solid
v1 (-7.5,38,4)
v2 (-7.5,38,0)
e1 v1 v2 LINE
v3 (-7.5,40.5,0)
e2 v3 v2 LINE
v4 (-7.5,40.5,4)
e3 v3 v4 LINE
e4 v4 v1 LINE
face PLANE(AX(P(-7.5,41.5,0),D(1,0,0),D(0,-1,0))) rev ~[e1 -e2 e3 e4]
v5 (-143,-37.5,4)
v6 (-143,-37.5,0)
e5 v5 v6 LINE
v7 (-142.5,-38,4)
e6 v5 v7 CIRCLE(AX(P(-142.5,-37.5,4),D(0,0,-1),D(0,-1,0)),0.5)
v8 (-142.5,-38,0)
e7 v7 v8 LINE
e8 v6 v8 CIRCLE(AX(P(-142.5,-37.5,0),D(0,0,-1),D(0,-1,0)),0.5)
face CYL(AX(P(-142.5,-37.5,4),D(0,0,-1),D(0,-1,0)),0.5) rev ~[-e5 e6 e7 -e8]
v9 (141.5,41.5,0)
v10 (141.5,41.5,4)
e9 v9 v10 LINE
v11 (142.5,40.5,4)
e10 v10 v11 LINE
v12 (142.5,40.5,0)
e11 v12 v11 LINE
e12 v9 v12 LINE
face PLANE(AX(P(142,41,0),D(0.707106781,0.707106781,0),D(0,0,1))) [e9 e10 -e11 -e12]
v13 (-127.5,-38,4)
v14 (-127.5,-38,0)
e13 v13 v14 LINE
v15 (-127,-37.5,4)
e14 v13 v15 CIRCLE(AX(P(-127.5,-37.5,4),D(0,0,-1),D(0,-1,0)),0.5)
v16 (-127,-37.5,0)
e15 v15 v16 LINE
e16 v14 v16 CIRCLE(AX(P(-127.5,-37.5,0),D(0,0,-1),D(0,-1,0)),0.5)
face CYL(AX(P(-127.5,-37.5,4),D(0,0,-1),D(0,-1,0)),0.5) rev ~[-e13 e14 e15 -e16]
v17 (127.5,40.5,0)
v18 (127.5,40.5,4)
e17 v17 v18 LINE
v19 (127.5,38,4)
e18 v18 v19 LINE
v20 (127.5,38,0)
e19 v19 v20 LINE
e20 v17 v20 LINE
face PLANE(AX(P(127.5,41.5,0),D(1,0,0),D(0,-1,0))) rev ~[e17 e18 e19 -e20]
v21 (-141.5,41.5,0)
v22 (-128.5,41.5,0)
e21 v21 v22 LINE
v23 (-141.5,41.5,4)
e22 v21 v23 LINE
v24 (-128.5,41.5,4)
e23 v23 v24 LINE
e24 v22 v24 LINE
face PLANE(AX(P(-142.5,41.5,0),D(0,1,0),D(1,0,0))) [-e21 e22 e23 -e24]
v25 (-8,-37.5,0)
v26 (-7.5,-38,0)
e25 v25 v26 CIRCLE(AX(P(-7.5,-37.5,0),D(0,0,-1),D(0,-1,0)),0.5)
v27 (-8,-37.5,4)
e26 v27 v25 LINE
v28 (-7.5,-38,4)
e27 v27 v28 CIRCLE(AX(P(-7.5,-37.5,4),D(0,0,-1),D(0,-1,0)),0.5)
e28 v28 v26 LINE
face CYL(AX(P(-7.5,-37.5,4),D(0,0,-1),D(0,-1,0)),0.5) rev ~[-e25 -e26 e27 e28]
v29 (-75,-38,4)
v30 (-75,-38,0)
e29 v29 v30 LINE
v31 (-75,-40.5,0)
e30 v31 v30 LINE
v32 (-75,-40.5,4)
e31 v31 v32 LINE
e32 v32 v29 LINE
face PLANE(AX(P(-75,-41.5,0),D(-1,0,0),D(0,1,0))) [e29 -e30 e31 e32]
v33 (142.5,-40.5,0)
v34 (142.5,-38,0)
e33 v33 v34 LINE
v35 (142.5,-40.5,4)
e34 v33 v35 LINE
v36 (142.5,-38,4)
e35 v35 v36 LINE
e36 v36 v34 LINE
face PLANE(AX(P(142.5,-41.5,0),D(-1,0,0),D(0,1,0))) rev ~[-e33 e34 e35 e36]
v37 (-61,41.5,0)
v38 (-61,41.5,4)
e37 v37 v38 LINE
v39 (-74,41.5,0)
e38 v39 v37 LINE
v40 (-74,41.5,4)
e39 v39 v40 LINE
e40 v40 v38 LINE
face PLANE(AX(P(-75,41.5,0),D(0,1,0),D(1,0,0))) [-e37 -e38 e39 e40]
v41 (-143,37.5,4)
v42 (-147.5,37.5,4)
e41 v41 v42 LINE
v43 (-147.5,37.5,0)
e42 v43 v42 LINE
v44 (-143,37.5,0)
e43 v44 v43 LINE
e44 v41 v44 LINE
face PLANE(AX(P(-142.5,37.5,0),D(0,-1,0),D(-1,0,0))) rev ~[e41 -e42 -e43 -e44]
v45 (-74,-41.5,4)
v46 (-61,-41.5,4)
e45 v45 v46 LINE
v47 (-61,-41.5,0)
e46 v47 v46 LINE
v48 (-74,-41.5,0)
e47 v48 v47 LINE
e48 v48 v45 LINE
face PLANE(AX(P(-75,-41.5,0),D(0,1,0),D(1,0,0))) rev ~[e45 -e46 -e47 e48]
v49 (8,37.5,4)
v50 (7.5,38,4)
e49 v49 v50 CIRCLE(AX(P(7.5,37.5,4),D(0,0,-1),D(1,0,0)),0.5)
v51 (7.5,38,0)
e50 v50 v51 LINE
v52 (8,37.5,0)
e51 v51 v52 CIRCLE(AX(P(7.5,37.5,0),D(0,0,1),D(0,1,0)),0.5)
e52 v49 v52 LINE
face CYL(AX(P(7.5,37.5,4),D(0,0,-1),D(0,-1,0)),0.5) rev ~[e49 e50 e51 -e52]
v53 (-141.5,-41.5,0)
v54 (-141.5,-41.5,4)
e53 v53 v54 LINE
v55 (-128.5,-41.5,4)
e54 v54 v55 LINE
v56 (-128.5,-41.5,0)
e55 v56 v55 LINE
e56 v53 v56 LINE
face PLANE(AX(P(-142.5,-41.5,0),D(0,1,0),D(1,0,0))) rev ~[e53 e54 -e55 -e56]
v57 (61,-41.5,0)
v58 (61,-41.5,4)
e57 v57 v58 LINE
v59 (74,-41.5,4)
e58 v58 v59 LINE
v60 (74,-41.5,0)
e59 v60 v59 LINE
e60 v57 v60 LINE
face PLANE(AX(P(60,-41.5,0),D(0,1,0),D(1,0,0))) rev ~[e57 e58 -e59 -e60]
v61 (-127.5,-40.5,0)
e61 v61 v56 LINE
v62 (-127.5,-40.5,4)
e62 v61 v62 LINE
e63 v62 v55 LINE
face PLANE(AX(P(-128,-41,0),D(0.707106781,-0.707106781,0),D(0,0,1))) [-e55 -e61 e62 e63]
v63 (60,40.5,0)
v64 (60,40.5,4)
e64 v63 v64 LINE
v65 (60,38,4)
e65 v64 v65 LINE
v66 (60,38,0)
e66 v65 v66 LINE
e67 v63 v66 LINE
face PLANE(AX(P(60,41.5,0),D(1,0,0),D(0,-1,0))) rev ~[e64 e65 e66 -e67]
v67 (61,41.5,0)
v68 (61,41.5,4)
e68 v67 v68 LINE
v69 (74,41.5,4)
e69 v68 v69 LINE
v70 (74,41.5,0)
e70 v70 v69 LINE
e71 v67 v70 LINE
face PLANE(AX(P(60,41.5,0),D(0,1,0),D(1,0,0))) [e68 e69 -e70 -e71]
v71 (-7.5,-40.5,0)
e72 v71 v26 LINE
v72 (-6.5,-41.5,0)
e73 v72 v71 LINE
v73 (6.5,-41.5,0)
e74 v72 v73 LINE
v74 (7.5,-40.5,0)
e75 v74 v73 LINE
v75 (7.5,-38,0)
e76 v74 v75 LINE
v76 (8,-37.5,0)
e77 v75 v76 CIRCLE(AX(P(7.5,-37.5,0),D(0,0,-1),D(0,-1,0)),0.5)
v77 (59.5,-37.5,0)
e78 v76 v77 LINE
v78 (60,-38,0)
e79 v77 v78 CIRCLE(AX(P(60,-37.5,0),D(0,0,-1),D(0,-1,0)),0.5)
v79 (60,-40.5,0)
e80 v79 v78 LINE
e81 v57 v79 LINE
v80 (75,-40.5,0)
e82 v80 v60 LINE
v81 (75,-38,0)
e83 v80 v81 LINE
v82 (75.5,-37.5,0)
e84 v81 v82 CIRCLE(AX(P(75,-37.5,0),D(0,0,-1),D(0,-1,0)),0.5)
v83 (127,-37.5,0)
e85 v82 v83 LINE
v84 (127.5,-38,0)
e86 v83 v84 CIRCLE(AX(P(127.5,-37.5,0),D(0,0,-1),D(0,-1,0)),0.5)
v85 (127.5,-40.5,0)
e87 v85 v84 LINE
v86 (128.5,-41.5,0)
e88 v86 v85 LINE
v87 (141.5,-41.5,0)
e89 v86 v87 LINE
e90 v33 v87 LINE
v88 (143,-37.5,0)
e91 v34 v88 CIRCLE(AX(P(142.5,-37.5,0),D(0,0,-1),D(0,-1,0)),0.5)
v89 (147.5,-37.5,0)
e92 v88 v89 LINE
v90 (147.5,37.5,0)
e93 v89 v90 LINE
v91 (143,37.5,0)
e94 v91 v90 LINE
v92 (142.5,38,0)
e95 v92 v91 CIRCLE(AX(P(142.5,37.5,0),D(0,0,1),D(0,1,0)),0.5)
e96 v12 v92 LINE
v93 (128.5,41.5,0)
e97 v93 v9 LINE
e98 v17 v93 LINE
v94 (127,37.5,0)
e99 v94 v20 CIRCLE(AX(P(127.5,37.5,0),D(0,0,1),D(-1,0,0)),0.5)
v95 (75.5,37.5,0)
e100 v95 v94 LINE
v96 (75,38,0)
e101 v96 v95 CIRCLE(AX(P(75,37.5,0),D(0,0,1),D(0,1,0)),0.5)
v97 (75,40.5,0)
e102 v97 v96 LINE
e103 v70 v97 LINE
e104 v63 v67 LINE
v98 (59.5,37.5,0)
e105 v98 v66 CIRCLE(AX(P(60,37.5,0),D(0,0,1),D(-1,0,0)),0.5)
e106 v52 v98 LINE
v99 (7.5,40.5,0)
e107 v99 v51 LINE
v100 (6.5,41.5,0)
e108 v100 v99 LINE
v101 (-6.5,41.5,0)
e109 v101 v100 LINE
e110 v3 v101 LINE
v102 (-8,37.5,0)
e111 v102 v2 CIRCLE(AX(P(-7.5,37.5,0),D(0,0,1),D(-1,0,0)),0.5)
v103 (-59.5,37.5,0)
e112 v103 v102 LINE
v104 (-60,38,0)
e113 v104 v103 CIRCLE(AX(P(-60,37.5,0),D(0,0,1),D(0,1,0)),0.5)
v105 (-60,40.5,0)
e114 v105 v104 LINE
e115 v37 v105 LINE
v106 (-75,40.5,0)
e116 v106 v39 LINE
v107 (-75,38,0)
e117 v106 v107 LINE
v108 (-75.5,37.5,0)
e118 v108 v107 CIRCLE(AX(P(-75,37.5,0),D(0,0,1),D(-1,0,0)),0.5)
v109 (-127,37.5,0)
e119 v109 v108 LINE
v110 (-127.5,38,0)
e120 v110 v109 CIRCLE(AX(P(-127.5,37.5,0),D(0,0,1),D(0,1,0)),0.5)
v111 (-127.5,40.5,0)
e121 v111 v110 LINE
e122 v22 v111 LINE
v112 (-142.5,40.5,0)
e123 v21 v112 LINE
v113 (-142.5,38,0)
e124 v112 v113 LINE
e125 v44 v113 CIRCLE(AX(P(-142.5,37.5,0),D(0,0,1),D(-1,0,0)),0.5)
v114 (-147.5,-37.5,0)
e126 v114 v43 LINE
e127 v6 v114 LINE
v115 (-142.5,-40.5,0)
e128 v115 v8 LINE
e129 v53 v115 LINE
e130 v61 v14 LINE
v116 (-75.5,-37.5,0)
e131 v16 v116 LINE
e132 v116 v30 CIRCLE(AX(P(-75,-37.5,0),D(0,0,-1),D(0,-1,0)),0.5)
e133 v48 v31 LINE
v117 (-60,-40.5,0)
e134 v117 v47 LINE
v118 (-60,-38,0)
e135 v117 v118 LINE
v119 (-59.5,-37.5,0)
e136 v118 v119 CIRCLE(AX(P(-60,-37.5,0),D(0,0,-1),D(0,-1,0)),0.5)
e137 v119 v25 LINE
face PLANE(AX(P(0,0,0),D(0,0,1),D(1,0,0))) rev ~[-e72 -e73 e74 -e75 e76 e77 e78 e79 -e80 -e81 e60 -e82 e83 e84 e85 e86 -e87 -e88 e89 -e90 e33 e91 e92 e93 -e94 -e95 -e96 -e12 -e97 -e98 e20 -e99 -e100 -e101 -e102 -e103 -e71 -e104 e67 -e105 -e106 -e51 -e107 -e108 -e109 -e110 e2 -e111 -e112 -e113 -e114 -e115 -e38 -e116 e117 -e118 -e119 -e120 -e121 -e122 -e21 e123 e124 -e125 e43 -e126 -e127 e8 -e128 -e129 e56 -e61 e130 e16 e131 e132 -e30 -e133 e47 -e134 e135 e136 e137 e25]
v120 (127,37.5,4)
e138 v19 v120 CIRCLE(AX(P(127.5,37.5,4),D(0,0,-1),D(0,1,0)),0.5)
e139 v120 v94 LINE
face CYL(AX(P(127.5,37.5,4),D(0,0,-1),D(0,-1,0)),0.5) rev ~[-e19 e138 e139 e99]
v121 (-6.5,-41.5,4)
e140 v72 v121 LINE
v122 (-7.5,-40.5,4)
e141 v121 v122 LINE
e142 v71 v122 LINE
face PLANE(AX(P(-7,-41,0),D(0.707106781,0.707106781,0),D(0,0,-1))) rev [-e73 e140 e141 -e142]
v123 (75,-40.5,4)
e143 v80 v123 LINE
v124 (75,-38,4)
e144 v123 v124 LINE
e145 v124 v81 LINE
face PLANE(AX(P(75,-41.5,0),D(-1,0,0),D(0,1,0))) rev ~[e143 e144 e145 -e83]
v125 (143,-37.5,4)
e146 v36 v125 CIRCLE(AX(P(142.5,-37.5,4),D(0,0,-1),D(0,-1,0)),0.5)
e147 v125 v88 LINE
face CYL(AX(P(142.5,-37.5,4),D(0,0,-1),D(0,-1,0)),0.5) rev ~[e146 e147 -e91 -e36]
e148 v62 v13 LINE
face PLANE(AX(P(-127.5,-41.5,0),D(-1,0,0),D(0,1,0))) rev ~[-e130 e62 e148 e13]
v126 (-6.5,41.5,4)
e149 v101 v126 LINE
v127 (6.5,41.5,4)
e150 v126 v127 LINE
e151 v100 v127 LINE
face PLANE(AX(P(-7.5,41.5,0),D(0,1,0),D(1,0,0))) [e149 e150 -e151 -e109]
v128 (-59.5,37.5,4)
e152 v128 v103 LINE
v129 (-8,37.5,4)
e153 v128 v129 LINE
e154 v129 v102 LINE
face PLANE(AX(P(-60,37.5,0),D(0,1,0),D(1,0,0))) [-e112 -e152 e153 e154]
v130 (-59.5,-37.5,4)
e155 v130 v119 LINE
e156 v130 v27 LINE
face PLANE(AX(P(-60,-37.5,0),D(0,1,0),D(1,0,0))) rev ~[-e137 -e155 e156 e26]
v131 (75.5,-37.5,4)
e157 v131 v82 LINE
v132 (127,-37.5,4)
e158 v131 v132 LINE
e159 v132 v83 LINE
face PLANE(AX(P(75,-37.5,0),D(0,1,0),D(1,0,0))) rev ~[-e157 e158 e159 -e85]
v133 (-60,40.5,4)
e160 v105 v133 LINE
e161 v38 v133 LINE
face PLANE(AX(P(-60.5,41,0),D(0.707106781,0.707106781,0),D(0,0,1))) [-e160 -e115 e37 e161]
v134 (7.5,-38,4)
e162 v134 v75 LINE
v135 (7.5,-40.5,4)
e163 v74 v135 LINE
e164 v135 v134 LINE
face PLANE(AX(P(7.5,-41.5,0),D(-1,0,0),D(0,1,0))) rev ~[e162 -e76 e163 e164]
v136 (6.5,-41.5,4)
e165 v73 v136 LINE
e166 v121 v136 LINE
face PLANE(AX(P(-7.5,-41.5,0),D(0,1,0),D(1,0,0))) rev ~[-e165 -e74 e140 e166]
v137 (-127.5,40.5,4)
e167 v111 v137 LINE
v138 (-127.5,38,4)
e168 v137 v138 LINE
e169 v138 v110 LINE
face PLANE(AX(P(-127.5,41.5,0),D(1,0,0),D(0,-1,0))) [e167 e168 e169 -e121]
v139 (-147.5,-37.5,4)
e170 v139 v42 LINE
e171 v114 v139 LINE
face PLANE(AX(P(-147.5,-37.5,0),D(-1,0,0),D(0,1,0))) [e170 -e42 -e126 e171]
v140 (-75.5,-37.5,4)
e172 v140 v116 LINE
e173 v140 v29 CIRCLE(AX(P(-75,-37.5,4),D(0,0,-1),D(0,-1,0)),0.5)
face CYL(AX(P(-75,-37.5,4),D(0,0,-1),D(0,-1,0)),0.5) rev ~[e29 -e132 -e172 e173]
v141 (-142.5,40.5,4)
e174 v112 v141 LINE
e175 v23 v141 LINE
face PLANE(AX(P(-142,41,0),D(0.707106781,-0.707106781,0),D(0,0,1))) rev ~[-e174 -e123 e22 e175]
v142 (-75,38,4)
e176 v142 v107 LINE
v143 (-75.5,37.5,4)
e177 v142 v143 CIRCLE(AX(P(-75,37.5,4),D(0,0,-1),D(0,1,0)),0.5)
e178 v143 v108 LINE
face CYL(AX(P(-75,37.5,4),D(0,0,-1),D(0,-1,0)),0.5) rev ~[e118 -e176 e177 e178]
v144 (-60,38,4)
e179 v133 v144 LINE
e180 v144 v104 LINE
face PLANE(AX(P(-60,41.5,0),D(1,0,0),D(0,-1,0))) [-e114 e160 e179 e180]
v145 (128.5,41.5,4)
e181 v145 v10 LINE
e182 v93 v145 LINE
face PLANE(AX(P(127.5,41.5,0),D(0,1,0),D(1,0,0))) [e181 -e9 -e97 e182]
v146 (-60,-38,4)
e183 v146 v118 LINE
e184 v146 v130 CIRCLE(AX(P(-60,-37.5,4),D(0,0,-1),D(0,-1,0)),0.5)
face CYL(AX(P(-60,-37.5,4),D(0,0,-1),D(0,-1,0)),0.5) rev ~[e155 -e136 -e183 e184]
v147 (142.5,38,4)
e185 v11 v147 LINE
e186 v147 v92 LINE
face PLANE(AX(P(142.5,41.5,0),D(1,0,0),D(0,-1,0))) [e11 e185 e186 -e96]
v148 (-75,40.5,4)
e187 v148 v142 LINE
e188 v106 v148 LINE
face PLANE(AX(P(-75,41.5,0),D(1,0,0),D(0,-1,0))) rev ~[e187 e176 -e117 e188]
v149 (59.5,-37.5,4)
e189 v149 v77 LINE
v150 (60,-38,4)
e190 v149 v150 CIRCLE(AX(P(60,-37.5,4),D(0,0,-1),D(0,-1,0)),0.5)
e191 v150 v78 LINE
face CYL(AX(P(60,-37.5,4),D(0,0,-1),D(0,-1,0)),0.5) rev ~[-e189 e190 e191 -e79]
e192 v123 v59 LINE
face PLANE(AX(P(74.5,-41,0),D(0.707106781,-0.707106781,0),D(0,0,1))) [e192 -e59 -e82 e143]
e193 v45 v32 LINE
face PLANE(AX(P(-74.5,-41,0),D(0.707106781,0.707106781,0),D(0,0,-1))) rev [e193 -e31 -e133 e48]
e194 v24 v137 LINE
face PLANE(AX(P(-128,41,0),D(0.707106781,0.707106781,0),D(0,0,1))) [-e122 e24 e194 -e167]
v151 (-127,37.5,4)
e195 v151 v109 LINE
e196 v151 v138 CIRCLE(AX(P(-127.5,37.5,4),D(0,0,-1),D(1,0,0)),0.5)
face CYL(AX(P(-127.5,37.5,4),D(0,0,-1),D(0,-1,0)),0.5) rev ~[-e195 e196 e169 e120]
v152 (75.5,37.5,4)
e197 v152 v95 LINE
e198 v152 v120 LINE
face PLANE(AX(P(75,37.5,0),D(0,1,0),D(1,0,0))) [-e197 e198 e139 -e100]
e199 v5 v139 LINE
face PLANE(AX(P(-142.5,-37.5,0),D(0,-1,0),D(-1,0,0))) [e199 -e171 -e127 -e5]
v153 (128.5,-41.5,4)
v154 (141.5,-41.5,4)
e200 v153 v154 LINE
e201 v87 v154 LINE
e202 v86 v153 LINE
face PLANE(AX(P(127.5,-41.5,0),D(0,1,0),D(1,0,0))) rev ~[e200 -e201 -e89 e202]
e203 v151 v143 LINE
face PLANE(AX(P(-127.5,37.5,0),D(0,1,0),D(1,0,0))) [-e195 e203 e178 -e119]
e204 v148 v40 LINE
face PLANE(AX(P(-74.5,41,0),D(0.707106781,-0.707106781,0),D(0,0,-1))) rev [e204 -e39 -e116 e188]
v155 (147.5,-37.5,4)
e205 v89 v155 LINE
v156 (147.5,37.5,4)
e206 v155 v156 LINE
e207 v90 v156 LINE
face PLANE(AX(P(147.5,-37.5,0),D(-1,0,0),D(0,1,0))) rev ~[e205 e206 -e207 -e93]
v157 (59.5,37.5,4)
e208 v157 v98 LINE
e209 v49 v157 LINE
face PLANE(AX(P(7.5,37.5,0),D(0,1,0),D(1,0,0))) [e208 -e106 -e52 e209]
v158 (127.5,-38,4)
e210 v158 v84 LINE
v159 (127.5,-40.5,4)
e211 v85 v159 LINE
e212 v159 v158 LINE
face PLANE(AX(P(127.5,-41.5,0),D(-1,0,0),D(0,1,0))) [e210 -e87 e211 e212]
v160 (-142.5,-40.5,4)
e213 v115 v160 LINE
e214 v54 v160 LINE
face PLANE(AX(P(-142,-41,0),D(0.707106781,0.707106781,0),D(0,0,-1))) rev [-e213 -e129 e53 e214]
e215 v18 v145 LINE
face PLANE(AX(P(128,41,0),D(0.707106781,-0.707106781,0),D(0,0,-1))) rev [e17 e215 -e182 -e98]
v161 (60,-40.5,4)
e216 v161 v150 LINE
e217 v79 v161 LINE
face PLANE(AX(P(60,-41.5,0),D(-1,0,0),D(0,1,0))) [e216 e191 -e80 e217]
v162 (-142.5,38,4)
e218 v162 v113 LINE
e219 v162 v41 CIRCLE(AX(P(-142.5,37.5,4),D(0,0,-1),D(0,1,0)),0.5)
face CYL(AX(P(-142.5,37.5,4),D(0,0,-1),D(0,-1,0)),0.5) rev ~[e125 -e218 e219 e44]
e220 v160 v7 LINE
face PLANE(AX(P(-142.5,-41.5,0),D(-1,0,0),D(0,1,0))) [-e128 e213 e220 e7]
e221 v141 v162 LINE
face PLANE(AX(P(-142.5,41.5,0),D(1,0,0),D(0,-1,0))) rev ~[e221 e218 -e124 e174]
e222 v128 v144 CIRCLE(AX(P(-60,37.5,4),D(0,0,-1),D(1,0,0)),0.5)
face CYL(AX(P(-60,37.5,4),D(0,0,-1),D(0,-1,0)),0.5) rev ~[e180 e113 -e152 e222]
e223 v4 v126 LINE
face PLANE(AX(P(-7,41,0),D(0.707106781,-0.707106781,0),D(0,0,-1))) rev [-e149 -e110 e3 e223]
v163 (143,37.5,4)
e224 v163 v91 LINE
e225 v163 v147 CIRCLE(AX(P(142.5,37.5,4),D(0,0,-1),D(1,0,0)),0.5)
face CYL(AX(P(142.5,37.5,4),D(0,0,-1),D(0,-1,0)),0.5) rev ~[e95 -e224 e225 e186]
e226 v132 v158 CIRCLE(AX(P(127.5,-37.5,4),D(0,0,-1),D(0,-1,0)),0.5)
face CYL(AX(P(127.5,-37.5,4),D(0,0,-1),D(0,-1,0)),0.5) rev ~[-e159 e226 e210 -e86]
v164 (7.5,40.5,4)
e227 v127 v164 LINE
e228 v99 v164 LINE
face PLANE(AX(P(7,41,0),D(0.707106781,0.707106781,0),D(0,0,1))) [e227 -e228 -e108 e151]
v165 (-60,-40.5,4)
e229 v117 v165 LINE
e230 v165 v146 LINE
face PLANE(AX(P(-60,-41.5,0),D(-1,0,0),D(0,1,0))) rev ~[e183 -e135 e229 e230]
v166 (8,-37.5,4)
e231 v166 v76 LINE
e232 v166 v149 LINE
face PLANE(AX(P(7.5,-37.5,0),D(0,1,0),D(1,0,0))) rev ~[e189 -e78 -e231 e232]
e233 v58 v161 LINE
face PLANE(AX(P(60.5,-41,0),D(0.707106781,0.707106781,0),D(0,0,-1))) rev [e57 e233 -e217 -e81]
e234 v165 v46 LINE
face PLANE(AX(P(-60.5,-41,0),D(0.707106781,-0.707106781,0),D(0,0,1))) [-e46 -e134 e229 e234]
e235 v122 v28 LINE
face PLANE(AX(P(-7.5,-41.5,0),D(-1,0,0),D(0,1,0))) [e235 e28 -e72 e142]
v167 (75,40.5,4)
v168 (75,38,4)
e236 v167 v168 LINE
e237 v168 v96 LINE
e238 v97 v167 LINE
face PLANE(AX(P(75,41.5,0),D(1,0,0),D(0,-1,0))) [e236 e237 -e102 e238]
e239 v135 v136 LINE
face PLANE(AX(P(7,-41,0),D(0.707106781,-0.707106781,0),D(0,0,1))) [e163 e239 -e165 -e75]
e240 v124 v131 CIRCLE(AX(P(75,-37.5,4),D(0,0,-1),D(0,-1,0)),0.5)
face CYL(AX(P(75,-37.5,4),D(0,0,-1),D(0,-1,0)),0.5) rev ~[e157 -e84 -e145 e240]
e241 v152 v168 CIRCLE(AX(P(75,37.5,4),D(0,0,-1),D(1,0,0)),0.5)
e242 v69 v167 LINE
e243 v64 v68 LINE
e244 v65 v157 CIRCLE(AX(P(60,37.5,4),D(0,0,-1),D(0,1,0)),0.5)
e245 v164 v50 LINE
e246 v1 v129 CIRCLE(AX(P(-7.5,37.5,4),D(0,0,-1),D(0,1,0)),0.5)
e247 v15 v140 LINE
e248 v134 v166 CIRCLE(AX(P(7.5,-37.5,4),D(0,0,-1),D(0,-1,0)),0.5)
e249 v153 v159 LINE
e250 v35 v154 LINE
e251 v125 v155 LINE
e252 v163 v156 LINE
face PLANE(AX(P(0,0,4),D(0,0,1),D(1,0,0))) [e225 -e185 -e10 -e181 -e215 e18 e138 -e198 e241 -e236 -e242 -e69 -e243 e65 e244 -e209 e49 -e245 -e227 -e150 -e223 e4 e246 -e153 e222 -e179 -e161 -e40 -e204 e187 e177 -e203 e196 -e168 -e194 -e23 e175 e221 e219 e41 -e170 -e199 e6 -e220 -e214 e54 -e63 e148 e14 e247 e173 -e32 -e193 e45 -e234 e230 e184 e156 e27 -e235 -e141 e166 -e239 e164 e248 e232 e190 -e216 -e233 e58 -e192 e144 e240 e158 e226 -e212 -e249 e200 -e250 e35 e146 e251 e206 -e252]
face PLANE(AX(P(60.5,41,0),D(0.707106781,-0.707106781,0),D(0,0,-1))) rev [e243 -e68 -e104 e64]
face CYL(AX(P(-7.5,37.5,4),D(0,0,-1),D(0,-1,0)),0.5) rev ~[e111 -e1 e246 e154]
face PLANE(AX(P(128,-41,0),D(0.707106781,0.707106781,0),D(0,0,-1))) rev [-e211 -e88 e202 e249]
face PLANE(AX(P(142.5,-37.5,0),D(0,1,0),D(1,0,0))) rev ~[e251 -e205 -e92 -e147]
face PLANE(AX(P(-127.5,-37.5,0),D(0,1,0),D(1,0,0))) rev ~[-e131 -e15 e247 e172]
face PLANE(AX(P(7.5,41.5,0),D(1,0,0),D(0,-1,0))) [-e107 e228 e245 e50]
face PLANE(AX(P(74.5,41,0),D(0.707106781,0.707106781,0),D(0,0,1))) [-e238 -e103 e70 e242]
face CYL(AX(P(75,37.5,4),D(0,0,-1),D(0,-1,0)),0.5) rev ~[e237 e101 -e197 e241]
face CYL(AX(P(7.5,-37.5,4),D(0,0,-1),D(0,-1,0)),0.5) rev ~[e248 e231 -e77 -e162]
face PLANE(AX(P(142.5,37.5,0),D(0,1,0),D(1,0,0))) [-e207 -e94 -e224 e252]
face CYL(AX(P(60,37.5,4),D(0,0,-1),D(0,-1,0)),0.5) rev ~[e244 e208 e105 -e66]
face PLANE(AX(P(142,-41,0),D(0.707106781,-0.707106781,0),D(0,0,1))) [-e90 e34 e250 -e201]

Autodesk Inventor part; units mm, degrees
ref_plane "Plan YZ" through (0, 0, 0) normal (1, 0, 0) x (0, 1, 0)
ref_plane "Plan XZ" through (0, 0, 0) normal (0, 1, 0) x (-1, 0, 0)
ref_plane "Plan XY" through (0, 0, 0) normal (0, 0, 1) x (1, 0, 0)
sketch "Esquisse1" plane through (0, 0, 0) normal (0, 0, 1) x (1, 0, 0)
  line L0 (-142.5, 41.5) -> (-142.5, 37.5)
  line L1 (-142.5, 41.5) -> (-127.5, 41.5)
  line L2 (-127.5, 41.5) -> (-127.5, 37.5)
  line L3 (0, -58.1) -> (0, 58.1) construction
  line L4 (-206.5, 0) -> (206.5, 0) construction
  line L5 (-75, 41.5) -> (-75, 37.5)
  line L6 (-75, 41.5) -> (-60, 41.5)
  line L7 (-60, 41.5) -> (-60, 37.5)
  line L8 (-7.5, 41.5) -> (-7.5, 37.5)
  line L9 (-7.5, 41.5) -> (7.5, 41.5)
  line L10 (7.5, 41.5) -> (7.5, 37.5)
  line L11 (60, 41.5) -> (60, 37.5)
  line L12 (60, 41.5) -> (75, 41.5)
  line L13 (75, 41.5) -> (75, 37.5)
  line L14 (127.5, 41.5) -> (127.5, 37.5)
  line L15 (127.5, 41.5) -> (142.5, 41.5)
  line L16 (142.5, 41.5) -> (142.5, 37.5)
  line L17 (-127.5, 37.5) -> (-75, 37.5)
  line L18 (-60, 37.5) -> (-7.5, 37.5)
  line L19 (7.5, 37.5) -> (60, 37.5)
  line L20 (75, 37.5) -> (127.5, 37.5)
  line L21 (142.5, 37.5) -> (147.5, 37.5)
  line L22 (-142.5, 37.5) -> (-147.5, 37.5)
  line L23 (-142.5, -41.5) -> (-142.5, -37.5)
  line L24 (-142.5, -41.5) -> (-127.5, -41.5)
  line L25 (-127.5, -41.5) -> (-127.5, -37.5)
  line L26 (-75, -41.5) -> (-75, -37.5)
  line L27 (-75, -41.5) -> (-60, -41.5)
  line L28 (-60, -41.5) -> (-60, -37.5)
  line L29 (-7.5, -41.5) -> (-7.5, -37.5)
  line L30 (-7.5, -41.5) -> (7.5, -41.5)
  line L31 (7.5, -41.5) -> (7.5, -37.5)
  line L32 (60, -41.5) -> (60, -37.5)
  line L33 (60, -41.5) -> (75, -41.5)
  line L34 (75, -41.5) -> (75, -37.5)
  line L35 (127.5, -41.5) -> (127.5, -37.5)
  line L36 (127.5, -41.5) -> (142.5, -41.5)
  line L37 (142.5, -41.5) -> (142.5, -37.5)
  line L38 (-127.5, -37.5) -> (-75, -37.5)
  line L39 (-60, -37.5) -> (-7.5, -37.5)
  line L40 (7.5, -37.5) -> (60, -37.5)
  line L41 (75, -37.5) -> (127.5, -37.5)
  line L42 (142.5, -37.5) -> (147.5, -37.5)
  line L43 (-142.5, -37.5) -> (-147.5, -37.5)
  line L44 (147.5, -37.5) -> (147.5, 37.5)
  line L45 (-147.5, -37.5) -> (-147.5, 37.5)
  point P0 (0, 0)
  dimension "d1" = 15
  dimension "d3" = 4
  dimension "d6" = 67.5
  dimension "d11" = 5
  dimension "d12" = 5
  dimension "d30" = 75
extrude "Extrusion1" add sketch "Esquisse1" along normal blind 4
sketch "Esquisse6" plane through (0, 0, 4) normal (0, 0, 1) x (1, 0, 0)
  line L0 (0, -58.1) -> (0, 58.1) construction
  line L1 (-206.5, 0) -> (206.5, 0) construction
  point P0 (0, 0)
  point P1 (-142.5, 37.5)
  point P2 (-127.5, 37.5)
  point P3 (-75, 37.5)
  point P4 (-60, 37.5)
  point P5 (-7.5, 37.5)
  point P6 (7.5, 37.5)
  point P7 (60, 37.5)
  point P8 (75, 37.5)
  point P9 (142.5, 37.5)
  point P10 (127.5, 37.5)
  point P11 (-142.5, -37.5)
  point P12 (-127.5, -37.5)
  point P13 (-75, -37.5)
  point P14 (-60, -37.5)
  point P15 (-7.5, -37.5)
  point P16 (7.5, -37.5)
  point P17 (60, -37.5)
  point P18 (75, -37.5)
  point P19 (142.5, -37.5)
  point P20 (127.5, -37.5)
hole "Perçage1" at (-142.5, 37.5, 4) at (-127.5, 37.5, 4) at (-75, 37.5, 4) at (-60, 37.5, 4) at (-7.5, 37.5, 4) at (7.5, 37.5, 4) at (60, 37.5, 4) at (75, 37.5, 4) at (142.5, 37.5, 4) at (127.5, 37.5, 4) at (127.5, -37.5, 4) at (142.5, -37.5, 4) at (75, -37.5, 4) at (60, -37.5, 4) at (7.5, -37.5, 4) at (-7.5, -37.5, 4) at (-60, -37.5, 4) at (-75, -37.5, 4) at (-127.5, -37.5, 4) at (-142.5, -37.5, 4) direction (0, 0, -1) diameter 1 end through all
chamfer "Chanfrein1" distance 1 angle 45 20 edges at (-142.5, 41.5, 2) (-127.5, 41.5, 2) (-75, 41.5, 2) (-60, 41.5, 2) (-7.5, 41.5, 2) (7.5, 41.5, 2) (60, 41.5, 2) (75, 41.5, 2) (127.5, 41.5, 2) (142.5, 41.5, 2) (142.5, -41.5, 2) (127.5, -41.5, 2) (60, -41.5, 2) (75, -41.5, 2) (-142.5, -41.5, 2) (-127.5, -41.5, 2) (-75, -41.5, 2) (-60, -41.5, 2) (-7.5, -41.5, 2) (7.5, -41.5, 2)
properties part number "P1704_003" material "Plastique PMMA"
